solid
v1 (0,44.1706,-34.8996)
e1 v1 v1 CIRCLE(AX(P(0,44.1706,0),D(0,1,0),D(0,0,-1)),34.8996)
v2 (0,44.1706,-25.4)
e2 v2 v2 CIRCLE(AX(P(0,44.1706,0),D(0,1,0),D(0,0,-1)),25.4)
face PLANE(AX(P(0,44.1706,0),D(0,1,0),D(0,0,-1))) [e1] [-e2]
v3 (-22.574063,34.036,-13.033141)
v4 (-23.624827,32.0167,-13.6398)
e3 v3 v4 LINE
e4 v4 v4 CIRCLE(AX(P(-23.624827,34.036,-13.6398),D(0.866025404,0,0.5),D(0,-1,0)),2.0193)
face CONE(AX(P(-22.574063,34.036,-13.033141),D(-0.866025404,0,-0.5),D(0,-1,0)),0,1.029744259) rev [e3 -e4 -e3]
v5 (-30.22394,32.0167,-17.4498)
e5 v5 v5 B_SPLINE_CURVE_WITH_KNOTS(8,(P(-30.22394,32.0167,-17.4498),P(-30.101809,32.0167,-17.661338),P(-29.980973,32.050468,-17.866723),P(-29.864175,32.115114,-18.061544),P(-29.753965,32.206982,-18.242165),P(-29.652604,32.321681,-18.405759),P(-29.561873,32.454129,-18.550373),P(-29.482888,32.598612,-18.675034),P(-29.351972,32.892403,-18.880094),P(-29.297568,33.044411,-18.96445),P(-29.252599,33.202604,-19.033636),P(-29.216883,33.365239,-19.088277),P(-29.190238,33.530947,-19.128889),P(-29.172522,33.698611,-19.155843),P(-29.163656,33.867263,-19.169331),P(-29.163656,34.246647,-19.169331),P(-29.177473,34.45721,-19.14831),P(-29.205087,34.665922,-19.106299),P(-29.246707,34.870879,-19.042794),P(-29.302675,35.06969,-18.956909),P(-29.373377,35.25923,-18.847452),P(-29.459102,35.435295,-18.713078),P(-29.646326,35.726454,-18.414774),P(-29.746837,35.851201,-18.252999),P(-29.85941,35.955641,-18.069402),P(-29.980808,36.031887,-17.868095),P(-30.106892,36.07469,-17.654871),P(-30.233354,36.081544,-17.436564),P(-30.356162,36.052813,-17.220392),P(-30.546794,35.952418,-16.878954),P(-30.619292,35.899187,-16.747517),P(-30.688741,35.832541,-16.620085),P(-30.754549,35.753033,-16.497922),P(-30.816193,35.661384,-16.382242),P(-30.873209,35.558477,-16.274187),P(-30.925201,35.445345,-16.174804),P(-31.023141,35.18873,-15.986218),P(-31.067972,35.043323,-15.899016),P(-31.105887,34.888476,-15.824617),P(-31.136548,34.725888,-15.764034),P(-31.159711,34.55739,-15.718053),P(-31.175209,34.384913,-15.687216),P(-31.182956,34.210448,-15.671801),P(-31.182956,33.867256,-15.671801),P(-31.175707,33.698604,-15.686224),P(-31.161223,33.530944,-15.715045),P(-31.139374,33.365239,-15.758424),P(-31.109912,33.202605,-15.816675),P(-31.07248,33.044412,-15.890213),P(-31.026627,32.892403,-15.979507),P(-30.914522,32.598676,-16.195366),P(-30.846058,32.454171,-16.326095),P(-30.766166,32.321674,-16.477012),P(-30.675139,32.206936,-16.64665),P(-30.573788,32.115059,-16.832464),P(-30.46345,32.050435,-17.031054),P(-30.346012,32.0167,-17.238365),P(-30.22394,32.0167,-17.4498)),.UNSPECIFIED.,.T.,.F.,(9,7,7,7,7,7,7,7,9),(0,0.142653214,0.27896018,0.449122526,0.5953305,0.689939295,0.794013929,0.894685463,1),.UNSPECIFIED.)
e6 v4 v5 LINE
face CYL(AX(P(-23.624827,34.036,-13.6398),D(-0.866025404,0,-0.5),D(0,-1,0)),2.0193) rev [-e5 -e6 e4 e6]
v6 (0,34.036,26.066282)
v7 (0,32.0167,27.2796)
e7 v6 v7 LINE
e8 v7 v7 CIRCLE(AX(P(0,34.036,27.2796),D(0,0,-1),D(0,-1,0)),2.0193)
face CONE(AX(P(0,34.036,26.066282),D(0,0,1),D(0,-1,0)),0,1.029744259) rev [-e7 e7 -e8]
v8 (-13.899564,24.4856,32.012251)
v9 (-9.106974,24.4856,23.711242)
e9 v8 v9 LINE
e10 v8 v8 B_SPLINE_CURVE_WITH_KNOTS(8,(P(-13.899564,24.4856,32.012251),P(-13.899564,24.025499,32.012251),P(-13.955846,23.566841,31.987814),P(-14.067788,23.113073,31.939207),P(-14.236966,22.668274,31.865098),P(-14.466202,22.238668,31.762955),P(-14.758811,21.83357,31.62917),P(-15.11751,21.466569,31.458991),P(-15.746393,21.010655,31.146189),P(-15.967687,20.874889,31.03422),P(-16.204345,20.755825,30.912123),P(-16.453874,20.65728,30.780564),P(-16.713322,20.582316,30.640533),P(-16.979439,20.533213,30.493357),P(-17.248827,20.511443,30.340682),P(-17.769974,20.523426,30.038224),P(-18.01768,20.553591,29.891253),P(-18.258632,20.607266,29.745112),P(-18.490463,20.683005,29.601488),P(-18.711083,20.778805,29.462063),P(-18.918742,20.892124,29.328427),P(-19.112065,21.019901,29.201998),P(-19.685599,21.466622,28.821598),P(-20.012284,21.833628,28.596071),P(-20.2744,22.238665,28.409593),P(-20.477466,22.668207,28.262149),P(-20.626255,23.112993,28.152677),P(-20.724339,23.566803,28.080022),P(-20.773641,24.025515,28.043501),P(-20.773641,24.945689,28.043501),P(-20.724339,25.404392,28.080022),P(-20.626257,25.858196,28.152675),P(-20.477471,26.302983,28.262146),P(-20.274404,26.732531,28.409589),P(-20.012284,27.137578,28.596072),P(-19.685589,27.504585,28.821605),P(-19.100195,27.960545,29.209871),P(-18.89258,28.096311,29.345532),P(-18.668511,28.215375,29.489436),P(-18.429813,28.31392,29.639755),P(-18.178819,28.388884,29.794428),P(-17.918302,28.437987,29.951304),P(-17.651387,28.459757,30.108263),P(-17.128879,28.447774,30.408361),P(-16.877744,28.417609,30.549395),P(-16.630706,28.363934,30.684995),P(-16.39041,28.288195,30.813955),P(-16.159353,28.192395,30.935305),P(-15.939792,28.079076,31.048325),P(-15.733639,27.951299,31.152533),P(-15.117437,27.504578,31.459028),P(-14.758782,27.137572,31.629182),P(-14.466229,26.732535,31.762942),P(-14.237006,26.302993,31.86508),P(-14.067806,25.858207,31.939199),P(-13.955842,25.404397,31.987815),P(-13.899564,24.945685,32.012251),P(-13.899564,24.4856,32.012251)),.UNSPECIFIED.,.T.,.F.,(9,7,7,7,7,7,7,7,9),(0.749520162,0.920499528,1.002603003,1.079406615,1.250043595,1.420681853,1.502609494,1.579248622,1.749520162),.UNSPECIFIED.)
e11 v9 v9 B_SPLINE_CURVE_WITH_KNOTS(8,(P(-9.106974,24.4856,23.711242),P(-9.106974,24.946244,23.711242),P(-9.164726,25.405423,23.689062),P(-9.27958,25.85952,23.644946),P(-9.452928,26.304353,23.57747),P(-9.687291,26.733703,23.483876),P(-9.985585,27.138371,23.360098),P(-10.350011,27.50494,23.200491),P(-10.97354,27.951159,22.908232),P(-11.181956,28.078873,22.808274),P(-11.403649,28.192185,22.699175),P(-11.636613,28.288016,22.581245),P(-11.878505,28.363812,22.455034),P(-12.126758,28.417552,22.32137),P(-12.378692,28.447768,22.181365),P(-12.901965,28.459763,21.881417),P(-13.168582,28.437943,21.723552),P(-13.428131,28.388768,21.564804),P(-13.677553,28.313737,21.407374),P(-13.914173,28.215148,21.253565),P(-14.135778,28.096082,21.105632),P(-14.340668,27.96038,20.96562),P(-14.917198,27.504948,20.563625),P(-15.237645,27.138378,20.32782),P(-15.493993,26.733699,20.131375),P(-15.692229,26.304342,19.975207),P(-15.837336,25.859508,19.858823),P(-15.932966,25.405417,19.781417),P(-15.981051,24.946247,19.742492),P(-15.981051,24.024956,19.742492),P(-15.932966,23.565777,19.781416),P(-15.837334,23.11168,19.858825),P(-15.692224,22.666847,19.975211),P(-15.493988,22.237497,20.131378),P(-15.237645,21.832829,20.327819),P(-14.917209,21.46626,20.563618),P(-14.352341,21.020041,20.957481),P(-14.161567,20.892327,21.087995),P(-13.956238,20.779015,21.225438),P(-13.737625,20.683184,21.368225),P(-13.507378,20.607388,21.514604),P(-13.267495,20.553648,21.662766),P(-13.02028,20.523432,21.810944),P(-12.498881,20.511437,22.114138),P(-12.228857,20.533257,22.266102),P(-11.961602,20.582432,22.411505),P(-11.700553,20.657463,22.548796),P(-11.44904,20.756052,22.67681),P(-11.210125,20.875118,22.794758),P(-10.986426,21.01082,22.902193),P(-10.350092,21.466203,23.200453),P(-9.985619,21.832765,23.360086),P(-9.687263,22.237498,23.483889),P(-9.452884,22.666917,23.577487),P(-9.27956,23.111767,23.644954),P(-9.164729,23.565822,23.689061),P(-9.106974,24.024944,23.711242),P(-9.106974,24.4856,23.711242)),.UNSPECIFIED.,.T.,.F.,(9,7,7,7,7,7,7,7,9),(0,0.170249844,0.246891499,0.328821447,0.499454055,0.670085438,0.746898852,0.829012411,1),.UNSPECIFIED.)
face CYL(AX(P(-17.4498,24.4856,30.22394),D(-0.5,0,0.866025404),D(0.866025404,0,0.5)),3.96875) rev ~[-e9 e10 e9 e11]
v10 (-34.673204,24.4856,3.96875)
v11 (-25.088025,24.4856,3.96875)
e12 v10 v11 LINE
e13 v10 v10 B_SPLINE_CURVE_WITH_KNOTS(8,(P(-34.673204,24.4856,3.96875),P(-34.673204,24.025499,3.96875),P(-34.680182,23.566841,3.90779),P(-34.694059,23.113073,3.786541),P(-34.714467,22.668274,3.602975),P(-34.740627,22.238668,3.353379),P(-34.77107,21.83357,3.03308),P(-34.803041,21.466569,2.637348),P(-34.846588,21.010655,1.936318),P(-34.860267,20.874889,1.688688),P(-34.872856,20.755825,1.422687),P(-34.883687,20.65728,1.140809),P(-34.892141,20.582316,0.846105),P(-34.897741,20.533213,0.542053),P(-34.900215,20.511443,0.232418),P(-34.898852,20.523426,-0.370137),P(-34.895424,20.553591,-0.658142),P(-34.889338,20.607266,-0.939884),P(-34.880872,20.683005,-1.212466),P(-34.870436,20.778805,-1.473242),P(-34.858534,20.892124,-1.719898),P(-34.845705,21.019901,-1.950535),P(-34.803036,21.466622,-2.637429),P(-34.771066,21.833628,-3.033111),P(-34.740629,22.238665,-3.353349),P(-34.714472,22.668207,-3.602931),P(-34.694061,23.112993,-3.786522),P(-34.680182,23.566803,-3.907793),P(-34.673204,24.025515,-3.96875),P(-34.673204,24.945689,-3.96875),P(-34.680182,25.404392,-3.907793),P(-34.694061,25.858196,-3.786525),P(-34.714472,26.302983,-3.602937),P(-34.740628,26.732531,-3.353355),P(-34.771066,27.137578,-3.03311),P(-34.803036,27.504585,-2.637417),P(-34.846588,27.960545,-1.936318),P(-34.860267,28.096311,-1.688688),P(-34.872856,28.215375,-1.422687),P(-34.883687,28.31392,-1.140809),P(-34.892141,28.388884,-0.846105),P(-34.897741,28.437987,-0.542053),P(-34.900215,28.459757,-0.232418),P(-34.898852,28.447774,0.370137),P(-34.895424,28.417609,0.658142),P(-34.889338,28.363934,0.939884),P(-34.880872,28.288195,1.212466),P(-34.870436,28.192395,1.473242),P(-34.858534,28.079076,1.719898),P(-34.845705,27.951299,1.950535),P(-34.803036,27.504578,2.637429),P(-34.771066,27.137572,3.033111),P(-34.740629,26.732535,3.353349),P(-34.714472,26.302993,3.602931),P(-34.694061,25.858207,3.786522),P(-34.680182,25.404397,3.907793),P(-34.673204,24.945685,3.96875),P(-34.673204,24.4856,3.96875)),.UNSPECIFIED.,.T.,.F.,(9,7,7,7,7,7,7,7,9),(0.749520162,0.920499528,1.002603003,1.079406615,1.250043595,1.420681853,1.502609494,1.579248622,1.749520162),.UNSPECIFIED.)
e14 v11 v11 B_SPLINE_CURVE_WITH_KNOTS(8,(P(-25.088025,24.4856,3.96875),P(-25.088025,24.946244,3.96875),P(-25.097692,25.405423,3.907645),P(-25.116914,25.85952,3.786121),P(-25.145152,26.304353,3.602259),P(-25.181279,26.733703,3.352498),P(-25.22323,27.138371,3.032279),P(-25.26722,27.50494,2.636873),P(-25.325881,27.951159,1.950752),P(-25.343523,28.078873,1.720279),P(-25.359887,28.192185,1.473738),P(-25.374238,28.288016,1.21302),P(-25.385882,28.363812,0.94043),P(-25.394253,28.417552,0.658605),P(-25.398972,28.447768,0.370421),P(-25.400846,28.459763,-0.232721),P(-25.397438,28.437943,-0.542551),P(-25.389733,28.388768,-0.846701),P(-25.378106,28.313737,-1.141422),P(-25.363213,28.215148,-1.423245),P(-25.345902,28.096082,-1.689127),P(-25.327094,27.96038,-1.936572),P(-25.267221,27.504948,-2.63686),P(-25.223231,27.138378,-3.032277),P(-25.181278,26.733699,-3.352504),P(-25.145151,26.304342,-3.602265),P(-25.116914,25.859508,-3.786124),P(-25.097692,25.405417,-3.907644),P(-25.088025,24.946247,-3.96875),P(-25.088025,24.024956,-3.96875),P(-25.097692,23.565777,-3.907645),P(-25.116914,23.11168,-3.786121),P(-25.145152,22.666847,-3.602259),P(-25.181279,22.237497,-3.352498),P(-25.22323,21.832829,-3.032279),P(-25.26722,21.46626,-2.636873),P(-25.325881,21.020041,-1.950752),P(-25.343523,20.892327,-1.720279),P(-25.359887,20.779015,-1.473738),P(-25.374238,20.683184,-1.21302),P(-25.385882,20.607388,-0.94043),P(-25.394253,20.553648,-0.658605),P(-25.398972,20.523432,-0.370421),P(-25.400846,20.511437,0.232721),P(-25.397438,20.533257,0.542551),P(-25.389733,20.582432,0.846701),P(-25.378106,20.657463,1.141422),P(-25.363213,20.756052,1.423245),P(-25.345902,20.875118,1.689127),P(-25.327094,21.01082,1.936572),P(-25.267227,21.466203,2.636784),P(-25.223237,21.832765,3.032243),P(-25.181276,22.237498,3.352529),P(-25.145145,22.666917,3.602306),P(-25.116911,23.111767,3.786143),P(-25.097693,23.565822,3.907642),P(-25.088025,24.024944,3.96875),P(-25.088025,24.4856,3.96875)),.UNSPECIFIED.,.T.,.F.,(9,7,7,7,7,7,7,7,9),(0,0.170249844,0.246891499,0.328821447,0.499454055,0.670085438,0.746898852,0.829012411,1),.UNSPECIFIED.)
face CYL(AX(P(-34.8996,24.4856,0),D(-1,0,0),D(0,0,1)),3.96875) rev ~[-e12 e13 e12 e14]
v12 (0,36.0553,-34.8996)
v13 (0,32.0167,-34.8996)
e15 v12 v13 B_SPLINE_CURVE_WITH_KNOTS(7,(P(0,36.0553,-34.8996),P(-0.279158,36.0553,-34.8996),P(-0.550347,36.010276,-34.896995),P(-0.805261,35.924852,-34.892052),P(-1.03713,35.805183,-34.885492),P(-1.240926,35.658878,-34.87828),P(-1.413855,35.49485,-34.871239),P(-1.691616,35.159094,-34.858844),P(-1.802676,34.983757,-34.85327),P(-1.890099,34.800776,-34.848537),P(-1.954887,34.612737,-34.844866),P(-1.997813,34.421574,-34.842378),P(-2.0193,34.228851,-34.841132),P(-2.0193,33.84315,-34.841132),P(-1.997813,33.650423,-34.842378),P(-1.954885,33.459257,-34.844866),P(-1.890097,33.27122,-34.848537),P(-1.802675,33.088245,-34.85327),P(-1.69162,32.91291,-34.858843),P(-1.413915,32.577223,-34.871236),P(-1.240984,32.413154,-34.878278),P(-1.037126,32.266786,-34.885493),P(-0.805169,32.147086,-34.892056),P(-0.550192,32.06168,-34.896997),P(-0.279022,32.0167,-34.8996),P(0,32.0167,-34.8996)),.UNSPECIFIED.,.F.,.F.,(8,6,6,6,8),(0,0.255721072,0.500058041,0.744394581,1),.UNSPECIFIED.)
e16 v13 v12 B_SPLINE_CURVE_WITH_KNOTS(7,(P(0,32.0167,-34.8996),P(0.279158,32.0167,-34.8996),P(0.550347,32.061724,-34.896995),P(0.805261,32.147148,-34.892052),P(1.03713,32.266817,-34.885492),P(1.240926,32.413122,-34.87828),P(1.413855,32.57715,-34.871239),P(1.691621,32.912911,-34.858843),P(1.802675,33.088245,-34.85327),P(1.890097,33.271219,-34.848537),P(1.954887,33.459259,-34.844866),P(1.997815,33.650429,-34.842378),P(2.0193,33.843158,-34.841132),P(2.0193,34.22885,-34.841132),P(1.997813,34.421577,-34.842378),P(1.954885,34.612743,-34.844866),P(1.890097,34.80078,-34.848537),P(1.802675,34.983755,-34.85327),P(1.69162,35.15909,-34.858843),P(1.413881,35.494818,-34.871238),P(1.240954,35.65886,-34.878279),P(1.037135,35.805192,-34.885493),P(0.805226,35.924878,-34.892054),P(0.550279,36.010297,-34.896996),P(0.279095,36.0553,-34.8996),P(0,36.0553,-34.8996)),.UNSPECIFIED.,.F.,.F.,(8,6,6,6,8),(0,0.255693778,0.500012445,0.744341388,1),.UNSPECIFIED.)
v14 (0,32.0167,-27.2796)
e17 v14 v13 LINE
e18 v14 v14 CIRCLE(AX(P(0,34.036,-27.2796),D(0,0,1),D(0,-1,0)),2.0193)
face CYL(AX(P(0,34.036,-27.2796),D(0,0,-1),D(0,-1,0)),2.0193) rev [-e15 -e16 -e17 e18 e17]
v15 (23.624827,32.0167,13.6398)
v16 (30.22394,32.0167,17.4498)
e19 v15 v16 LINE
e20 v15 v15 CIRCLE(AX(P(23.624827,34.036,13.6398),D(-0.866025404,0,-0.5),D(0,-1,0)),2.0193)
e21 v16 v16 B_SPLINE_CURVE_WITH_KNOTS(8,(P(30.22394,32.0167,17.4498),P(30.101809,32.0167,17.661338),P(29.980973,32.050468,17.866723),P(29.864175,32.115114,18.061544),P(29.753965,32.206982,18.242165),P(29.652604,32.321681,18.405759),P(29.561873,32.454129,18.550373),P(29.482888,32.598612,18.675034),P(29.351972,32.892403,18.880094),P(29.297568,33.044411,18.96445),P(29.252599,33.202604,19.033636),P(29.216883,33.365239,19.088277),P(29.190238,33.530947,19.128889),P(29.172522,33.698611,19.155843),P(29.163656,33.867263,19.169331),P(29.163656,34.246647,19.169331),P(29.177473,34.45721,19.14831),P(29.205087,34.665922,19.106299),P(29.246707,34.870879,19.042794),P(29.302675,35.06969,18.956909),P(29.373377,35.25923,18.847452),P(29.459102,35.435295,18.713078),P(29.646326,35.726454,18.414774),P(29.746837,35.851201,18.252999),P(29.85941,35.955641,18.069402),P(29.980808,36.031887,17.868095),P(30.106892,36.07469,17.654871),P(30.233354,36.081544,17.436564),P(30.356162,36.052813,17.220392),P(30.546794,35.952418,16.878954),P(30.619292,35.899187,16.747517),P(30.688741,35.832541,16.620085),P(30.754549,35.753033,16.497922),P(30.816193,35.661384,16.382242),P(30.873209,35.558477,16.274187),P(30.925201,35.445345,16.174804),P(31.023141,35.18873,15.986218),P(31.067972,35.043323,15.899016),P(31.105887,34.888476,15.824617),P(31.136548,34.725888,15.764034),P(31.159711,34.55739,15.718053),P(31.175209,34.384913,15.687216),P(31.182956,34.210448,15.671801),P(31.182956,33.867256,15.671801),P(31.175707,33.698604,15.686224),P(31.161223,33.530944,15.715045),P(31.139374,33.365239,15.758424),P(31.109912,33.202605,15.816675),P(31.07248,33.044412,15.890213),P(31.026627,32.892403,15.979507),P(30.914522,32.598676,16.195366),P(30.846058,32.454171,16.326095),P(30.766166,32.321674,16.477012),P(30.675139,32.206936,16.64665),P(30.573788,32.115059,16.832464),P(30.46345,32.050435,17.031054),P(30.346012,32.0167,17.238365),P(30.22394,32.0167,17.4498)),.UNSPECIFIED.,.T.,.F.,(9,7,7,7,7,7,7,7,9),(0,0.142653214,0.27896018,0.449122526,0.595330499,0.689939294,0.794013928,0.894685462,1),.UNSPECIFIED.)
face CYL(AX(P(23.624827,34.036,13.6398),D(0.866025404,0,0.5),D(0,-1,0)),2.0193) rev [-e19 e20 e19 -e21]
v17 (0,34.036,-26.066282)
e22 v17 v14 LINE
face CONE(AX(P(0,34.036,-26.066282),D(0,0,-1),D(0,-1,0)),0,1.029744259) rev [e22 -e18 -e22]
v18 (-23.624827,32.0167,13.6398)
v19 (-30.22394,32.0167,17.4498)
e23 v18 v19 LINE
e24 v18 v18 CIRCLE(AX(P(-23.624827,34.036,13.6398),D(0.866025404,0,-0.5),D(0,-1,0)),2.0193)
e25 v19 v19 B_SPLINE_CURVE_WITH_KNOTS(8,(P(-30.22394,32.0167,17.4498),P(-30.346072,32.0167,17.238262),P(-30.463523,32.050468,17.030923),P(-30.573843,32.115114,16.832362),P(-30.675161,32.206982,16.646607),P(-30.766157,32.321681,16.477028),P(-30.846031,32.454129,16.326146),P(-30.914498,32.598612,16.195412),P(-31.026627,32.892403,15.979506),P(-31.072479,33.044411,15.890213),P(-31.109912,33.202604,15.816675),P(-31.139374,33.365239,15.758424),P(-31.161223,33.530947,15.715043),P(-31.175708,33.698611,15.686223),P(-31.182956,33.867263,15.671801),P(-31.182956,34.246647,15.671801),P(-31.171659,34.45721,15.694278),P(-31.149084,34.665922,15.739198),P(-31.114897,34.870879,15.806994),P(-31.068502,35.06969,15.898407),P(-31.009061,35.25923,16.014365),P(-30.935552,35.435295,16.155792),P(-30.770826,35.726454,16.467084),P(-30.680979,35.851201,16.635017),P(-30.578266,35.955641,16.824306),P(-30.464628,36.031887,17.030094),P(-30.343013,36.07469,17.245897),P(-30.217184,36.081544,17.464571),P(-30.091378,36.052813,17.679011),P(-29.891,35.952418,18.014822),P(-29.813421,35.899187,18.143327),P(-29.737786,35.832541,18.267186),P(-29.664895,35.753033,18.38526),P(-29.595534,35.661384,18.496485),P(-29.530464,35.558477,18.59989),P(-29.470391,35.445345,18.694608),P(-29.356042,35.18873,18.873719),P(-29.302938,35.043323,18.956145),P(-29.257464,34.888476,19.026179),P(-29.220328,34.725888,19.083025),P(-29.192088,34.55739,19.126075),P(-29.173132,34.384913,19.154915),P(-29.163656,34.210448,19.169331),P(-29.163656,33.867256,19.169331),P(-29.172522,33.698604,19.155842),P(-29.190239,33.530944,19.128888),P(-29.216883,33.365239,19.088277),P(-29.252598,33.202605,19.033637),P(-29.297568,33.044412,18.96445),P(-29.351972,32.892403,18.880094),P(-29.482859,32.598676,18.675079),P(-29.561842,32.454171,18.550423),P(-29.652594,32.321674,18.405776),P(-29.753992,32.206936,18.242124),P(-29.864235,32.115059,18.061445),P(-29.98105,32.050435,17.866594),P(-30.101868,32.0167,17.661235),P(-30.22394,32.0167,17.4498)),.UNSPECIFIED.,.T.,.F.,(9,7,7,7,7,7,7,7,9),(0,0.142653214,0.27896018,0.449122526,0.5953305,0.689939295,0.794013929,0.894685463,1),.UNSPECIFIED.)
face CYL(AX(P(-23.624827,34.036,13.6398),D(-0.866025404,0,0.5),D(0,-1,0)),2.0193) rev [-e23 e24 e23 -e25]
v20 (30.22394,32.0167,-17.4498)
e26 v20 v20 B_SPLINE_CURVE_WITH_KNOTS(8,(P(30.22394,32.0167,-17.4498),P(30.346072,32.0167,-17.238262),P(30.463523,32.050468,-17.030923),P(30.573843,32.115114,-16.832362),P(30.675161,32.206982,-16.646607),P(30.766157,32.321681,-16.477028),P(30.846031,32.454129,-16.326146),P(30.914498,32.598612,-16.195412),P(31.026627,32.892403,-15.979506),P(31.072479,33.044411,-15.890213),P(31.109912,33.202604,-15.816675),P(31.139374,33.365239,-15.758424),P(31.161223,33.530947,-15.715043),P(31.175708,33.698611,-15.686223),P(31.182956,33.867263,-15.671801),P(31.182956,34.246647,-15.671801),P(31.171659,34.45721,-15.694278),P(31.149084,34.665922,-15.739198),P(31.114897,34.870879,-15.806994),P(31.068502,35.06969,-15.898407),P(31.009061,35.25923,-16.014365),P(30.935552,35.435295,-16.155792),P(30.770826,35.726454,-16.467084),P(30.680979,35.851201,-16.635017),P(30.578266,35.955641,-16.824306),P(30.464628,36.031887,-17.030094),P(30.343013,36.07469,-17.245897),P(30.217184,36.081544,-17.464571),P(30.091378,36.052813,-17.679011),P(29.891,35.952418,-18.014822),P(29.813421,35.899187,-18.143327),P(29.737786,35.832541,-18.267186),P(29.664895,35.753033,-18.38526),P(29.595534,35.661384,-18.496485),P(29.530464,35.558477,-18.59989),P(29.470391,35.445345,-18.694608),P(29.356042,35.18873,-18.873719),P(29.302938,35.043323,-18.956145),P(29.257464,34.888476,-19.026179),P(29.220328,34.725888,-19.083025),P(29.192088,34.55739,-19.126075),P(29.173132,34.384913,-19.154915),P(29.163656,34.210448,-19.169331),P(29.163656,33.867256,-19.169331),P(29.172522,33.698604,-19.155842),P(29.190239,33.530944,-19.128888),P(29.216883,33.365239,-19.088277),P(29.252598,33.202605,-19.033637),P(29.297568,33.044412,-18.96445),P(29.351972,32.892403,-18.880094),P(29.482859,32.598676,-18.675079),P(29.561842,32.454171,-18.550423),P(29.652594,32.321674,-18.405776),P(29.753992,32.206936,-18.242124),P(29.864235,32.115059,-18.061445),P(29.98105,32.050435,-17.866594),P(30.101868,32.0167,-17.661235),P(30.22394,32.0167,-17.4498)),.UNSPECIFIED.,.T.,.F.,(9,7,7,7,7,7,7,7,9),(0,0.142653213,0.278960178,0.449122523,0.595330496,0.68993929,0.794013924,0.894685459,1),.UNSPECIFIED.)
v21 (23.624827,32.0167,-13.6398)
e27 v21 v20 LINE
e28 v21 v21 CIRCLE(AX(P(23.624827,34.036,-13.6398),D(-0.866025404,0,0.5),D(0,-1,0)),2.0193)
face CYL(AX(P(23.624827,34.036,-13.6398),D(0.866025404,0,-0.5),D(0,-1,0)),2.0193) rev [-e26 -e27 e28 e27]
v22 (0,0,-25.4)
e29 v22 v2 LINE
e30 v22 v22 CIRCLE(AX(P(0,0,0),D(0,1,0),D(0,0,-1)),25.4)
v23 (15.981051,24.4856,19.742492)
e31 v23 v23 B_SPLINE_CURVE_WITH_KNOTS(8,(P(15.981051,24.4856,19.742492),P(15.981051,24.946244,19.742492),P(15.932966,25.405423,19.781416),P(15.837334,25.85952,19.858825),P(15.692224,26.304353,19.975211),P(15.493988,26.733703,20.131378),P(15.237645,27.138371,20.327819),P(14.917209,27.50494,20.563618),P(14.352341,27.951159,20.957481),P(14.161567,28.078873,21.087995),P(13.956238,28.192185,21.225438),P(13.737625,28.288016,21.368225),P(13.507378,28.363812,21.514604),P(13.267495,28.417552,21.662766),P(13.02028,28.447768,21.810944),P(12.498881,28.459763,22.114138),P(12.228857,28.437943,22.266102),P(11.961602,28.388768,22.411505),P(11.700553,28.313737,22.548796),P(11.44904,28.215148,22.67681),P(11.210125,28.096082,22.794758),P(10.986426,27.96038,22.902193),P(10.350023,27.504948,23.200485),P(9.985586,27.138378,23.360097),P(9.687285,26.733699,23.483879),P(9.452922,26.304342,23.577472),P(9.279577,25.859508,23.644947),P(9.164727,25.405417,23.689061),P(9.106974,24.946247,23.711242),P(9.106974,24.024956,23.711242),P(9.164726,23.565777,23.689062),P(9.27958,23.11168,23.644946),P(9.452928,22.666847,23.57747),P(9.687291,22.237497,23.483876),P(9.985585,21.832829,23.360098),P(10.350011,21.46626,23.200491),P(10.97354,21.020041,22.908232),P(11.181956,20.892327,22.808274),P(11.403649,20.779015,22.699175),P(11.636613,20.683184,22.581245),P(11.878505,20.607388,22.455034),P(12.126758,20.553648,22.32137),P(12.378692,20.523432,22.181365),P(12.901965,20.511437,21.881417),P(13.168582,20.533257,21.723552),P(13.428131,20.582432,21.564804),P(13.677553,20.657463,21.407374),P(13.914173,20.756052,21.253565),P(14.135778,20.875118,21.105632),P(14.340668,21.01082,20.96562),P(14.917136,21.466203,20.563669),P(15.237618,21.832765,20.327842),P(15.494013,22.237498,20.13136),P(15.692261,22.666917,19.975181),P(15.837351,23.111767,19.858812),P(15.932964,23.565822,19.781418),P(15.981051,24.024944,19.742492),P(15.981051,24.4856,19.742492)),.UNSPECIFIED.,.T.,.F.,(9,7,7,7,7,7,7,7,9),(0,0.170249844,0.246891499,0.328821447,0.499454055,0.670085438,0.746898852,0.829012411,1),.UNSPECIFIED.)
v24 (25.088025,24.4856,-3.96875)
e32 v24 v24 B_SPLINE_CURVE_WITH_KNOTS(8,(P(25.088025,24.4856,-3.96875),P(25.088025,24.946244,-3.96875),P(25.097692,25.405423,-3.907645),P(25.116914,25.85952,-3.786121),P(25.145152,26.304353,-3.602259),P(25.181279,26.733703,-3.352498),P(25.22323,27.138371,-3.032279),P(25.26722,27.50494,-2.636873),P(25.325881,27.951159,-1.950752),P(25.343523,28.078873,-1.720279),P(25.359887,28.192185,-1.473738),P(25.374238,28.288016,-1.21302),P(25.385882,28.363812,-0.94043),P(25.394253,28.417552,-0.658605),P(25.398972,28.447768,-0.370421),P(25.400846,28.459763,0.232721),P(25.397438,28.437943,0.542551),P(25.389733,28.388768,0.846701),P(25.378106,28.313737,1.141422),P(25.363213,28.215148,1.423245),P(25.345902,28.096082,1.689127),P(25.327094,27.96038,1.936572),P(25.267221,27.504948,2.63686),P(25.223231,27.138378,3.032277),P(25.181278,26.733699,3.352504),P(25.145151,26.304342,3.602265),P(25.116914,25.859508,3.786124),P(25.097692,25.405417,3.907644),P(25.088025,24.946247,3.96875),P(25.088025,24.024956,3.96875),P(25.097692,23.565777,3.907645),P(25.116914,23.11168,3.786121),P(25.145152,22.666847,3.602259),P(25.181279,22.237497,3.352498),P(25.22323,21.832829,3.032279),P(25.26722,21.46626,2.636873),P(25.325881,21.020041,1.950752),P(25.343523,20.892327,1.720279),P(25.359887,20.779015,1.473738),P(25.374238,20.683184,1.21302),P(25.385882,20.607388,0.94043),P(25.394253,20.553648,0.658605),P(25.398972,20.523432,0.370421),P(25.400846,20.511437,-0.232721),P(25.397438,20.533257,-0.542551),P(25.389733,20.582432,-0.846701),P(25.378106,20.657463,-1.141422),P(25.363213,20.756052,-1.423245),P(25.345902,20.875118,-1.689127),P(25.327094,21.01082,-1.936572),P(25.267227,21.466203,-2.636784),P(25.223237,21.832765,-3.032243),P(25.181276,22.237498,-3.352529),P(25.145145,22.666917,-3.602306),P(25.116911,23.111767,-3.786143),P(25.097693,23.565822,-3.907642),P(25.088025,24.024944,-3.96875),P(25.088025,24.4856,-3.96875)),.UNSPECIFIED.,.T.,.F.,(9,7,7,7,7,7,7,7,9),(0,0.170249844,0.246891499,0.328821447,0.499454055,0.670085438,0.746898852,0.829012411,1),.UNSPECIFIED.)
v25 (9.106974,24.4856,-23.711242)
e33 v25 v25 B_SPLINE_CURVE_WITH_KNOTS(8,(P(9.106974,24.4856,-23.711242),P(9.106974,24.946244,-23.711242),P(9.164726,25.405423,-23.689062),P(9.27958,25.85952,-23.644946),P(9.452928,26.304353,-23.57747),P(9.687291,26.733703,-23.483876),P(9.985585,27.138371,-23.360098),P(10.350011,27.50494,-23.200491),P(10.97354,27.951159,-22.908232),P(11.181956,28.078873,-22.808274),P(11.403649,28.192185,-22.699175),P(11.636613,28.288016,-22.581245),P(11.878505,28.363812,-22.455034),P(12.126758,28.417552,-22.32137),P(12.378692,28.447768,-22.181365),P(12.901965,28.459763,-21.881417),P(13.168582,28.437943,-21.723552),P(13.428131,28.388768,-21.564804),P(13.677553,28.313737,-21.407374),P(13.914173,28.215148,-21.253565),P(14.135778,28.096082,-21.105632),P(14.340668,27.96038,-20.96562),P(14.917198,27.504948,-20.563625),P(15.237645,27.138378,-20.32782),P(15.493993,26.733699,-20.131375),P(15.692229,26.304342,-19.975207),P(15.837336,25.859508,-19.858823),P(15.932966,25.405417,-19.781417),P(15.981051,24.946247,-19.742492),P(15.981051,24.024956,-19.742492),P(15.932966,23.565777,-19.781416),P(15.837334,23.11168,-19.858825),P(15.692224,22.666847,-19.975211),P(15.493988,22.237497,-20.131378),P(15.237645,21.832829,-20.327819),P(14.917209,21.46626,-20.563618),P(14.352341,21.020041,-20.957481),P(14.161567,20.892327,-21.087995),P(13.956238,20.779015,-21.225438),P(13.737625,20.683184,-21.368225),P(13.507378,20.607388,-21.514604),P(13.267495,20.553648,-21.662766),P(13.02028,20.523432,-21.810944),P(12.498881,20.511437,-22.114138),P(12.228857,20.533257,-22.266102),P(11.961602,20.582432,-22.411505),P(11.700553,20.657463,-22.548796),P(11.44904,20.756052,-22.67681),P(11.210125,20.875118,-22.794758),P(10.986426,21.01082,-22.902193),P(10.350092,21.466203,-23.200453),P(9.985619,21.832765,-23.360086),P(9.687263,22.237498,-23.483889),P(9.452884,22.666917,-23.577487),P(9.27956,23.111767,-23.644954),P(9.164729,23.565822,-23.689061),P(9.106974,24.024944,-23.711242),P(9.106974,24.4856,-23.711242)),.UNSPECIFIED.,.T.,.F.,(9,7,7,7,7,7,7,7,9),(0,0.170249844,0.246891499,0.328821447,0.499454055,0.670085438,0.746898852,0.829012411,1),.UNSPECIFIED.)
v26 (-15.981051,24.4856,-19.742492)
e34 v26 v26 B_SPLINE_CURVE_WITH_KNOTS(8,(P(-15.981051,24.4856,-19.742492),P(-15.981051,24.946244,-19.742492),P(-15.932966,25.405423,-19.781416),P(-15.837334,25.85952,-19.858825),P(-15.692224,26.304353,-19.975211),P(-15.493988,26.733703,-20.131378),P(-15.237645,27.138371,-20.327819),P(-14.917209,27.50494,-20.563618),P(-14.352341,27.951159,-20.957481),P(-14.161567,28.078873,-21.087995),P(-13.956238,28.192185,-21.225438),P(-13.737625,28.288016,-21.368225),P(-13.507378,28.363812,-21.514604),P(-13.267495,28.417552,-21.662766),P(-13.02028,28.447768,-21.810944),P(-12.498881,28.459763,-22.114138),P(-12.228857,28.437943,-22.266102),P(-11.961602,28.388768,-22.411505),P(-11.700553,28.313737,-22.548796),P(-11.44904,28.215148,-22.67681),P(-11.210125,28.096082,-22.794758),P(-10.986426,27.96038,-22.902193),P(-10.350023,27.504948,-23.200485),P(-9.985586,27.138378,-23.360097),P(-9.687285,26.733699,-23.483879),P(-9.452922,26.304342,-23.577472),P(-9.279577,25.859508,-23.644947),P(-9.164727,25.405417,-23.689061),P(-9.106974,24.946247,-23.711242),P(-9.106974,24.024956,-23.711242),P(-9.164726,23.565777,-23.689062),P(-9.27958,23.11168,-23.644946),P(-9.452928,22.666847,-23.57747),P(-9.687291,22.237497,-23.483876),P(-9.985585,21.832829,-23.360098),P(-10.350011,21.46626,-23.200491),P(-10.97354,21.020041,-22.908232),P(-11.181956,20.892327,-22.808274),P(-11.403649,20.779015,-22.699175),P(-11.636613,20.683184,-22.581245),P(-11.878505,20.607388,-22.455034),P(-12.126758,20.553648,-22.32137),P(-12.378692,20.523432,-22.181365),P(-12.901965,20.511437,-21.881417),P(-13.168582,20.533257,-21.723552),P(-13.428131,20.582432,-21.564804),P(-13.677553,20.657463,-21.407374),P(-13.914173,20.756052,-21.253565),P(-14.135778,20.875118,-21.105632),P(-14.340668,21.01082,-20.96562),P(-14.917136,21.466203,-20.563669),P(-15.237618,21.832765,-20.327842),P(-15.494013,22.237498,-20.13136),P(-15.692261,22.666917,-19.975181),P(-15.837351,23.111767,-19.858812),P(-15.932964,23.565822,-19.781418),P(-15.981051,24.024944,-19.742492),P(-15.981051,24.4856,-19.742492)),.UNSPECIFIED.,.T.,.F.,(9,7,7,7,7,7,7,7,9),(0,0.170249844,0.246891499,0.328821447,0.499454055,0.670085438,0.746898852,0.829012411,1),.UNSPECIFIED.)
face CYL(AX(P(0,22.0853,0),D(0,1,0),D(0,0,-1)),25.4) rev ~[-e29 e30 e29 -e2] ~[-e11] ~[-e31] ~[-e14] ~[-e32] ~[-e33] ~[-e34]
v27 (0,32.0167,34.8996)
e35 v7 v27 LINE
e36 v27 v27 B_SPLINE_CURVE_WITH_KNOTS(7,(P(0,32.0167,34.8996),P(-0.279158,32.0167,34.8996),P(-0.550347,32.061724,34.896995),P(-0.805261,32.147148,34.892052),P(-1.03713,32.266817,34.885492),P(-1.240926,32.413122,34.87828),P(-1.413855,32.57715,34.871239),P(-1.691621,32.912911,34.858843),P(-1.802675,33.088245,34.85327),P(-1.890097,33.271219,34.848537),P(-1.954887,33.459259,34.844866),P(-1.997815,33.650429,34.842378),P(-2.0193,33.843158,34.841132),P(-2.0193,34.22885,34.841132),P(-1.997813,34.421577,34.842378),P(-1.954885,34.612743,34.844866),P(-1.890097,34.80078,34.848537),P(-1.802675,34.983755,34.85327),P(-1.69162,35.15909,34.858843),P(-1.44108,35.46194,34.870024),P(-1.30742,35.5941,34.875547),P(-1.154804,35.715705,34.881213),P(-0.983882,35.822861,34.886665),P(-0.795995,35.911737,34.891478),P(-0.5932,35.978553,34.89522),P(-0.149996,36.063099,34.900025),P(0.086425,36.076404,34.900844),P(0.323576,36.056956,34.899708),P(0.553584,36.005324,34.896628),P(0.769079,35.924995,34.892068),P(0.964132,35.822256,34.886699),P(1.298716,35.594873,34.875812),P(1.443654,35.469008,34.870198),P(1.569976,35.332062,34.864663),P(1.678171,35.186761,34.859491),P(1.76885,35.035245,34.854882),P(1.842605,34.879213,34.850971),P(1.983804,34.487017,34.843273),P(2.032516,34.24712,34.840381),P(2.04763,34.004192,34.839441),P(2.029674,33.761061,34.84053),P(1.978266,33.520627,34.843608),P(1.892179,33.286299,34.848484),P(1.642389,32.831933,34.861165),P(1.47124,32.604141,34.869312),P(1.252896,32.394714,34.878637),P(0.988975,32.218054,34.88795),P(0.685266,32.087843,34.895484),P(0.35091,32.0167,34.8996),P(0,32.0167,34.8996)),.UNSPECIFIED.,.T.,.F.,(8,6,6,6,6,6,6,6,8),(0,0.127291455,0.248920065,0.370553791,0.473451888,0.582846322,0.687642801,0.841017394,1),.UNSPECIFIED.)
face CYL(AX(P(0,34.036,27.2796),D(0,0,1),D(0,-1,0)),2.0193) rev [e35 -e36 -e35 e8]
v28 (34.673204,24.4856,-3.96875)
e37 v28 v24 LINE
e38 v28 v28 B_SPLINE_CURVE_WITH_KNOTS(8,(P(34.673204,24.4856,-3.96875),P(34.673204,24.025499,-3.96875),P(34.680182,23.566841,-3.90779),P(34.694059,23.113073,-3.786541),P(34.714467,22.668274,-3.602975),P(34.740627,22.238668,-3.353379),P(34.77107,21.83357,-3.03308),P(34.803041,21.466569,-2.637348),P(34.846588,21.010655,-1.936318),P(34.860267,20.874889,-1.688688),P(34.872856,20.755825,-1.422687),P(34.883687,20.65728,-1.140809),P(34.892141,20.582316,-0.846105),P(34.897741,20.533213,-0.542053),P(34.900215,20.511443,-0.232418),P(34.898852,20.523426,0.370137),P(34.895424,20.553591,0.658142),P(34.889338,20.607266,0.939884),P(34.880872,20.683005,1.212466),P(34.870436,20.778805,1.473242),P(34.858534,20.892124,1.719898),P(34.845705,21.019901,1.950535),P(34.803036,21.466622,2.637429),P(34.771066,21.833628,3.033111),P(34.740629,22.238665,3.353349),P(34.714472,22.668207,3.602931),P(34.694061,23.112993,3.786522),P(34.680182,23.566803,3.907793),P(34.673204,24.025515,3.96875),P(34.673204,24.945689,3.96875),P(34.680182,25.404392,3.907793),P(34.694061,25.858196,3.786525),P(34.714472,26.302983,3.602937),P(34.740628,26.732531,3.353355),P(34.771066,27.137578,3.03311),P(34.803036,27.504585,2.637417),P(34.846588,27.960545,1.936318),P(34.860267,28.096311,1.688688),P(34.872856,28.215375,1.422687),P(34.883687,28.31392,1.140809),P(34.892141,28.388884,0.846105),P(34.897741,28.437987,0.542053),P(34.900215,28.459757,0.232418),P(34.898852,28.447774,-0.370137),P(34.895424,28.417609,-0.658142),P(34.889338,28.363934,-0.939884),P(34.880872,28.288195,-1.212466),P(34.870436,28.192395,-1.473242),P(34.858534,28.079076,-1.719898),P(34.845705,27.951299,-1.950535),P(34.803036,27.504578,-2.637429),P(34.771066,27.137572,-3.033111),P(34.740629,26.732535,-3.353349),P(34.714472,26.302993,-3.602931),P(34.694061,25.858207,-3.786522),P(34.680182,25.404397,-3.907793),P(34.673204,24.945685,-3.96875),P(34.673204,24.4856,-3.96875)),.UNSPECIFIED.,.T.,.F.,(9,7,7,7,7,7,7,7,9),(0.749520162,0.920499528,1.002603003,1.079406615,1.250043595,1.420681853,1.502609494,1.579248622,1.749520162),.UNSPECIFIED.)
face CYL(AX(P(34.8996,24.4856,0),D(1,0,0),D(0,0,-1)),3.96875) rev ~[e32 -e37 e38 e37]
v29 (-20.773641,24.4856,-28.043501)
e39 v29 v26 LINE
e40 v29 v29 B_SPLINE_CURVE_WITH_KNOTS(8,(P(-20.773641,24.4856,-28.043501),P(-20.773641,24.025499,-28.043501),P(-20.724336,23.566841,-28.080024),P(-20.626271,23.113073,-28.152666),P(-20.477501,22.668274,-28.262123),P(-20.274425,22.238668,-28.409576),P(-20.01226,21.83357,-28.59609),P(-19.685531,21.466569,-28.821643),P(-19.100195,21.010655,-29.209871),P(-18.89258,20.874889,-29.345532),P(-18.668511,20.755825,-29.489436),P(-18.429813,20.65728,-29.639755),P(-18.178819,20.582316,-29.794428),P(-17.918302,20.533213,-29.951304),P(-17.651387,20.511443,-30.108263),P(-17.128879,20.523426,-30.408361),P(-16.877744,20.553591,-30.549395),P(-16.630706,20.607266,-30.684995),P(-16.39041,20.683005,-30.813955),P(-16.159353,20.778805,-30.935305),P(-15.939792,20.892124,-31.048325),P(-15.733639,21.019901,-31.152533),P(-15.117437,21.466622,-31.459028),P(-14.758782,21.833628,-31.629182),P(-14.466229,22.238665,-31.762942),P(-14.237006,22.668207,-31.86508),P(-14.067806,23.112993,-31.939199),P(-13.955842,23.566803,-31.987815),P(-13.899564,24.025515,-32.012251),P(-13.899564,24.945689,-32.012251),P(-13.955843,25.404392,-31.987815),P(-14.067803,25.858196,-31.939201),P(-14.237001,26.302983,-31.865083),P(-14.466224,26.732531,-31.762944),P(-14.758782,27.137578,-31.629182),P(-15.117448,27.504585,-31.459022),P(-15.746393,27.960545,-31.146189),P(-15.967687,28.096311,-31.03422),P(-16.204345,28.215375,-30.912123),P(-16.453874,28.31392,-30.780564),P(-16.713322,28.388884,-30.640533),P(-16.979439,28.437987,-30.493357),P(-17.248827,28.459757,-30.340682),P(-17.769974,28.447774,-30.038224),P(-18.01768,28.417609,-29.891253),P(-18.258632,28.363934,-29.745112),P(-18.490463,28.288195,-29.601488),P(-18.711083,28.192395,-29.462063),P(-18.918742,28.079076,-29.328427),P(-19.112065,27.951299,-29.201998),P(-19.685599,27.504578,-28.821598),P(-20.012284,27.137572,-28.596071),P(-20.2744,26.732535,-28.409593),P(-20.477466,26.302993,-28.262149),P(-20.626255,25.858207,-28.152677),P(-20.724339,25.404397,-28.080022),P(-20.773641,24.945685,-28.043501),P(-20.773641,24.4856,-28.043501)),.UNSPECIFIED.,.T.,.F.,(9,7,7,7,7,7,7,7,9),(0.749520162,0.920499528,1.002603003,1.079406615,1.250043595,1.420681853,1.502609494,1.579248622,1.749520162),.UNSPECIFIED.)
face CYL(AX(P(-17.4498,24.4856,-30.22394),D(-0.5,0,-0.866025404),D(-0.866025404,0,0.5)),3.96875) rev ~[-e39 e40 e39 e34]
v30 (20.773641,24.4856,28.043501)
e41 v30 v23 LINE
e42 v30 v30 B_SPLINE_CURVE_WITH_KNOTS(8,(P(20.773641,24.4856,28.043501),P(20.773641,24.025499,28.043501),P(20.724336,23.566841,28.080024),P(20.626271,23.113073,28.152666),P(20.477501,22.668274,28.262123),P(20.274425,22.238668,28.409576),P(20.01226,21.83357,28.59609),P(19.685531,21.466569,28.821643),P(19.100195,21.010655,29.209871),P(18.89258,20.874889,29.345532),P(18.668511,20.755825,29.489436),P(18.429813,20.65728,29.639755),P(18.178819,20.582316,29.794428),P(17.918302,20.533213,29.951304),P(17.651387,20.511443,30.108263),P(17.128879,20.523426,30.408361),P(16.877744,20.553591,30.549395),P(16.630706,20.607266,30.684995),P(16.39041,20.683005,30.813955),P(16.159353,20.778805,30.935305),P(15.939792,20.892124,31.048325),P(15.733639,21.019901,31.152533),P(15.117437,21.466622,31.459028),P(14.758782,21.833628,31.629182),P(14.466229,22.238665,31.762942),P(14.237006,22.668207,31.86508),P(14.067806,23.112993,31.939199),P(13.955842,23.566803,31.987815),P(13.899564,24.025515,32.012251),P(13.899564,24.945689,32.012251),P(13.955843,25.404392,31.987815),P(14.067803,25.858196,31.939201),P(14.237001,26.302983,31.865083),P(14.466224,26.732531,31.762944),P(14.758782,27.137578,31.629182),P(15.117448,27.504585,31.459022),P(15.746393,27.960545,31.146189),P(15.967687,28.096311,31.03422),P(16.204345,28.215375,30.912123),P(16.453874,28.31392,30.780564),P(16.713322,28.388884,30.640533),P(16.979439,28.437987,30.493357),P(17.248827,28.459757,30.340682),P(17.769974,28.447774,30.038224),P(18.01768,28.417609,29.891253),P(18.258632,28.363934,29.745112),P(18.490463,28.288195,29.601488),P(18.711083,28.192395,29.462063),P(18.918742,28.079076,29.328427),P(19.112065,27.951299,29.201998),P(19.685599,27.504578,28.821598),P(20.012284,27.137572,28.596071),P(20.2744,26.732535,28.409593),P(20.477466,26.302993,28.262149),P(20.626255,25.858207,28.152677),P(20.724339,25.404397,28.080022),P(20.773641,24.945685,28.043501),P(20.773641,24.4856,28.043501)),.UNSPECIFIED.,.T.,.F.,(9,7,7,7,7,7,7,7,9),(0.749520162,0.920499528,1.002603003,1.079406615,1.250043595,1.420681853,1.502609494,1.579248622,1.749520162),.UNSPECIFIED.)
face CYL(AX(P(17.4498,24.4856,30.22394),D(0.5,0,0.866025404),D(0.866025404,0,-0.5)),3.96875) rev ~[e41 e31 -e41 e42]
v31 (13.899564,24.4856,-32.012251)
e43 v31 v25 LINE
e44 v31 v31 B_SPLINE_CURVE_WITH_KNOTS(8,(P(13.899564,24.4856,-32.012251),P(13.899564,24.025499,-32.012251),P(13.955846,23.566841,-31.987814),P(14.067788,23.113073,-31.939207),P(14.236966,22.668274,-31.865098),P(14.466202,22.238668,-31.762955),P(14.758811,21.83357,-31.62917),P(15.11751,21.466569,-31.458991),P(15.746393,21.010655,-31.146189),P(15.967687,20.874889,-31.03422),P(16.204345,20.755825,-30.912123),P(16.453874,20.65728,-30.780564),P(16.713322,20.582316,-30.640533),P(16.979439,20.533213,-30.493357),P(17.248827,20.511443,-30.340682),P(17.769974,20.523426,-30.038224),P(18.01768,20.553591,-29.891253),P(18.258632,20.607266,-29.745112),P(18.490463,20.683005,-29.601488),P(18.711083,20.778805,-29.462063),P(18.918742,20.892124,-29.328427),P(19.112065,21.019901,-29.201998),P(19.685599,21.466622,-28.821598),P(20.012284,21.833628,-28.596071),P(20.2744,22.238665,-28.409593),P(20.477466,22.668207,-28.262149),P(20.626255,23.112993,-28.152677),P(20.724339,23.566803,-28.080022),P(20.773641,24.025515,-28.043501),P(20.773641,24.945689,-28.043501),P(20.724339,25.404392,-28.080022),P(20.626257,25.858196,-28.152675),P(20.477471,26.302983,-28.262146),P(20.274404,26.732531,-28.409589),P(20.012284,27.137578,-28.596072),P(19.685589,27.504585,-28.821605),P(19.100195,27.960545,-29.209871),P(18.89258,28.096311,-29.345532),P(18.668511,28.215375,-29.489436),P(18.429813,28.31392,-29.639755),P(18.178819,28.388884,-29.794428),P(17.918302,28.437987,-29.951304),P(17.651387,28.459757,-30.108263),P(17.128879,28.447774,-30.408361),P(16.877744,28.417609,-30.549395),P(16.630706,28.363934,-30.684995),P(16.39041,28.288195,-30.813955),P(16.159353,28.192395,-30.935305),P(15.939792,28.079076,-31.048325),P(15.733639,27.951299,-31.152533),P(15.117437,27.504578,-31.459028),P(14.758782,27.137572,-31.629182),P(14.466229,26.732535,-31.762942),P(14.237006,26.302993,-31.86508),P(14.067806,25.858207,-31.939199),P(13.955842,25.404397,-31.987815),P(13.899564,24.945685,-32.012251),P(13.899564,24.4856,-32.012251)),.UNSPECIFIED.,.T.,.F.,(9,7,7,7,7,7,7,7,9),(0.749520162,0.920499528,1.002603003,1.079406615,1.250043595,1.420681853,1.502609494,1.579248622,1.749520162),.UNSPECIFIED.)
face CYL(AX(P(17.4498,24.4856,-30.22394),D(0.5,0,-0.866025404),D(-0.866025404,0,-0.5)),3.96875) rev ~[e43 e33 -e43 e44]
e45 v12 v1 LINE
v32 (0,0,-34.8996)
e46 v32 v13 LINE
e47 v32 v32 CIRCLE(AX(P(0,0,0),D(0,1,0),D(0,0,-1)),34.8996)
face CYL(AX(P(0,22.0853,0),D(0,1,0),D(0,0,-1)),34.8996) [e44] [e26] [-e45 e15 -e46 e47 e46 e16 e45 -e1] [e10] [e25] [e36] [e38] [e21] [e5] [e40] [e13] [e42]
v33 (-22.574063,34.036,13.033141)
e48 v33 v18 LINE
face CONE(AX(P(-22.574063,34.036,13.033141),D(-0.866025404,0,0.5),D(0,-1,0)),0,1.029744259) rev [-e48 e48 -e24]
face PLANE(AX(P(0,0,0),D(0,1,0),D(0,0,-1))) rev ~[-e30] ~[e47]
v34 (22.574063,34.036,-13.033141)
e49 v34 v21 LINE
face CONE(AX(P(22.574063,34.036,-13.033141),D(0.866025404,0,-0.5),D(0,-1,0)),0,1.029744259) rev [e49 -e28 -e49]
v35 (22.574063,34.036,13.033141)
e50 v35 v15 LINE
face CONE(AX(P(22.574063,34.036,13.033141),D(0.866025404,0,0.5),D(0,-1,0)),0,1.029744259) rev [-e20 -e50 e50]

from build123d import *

# Parameters (mm, degrees)
SKETCH2_W                    = 9.4996
SKETCH2_H                    = 44.1706
F_3_8_16_TAPPED_HOLE2_REACH  = 91.671
F_3_8_16_TAPPED_HOLE2_BORE_R = 3.96875
CIRPATTERN1_COUNT            = 6
CIRPATTERN2_COUNT            = 6


with BuildPart() as part:
    # Sketch2 → Revolve1 (revolve)
    with BuildSketch(Plane.XY, mode=Mode.PRIVATE) as revolve1_sk:
        with Locations((-30.1498, 22.0853)):
            Rectangle(SKETCH2_W, SKETCH2_H)
    revolve(revolve1_sk.sketch.rotate(Axis((0, 0, 0), (0, 1, 0)), 270), axis=Axis((0, 0, 0), (0, 1, 0)))

    # 3_8-16 Tapped Hole2 bore → 3_8-16 Tapped Hole2 (cut, up to next)
    with BuildSketch(Plane(origin=(34.8996, 0, 0), x_dir=(0, 0, -1), z_dir=(1, 0, 0)), mode=Mode.PRIVATE) as f_3_8_16_tapped_hole2_sk1:
        with Locations((0, 24.4856)):
            Circle(F_3_8_16_TAPPED_HOLE2_BORE_R)
    f_3_8_16_tapped_hole2_tool1 = extrude(f_3_8_16_tapped_hole2_sk1.sketch, amount=-F_3_8_16_TAPPED_HOLE2_REACH, mode=Mode.PRIVATE) & part.part
    f_3_8_16_tapped_hole2 = f_3_8_16_tapped_hole2_tool1.solids().sort_by_distance((34.8996, 24.4856, 0))[0]
    add(f_3_8_16_tapped_hole2, mode=Mode.SUBTRACT)

    # CirPattern1: 3_8-16 Tapped Hole2 ×6 about axis
    cirpattern1_axis = Axis((0, 44.1706, 0), (0, -1, 0))
    for i in range(1, CIRPATTERN1_COUNT):
        add(f_3_8_16_tapped_hole2.rotate(cirpattern1_axis, i * 360 / CIRPATTERN1_COUNT), mode=Mode.SUBTRACT)

    # Sketch14 → Tap Drill for _10-32 Tap1 (revolve, cut)
    with BuildSketch(Plane(origin=(0, 34.036, 34.8996), x_dir=(0, -1, 0), z_dir=(1, 0, 0))):
        Polygon((0, 0), (0, 8.833317848), (2.0193, 7.62), (2.0193, 0), align=None)
    tap_drill_for_10_32_tap1 = revolve(axis=Axis((0, 34.036, 41.2496), (0, 0, -1)), mode=Mode.SUBTRACT)

    # CirPattern2: Tap Drill for _10-32 Tap1 ×6 about axis
    cirpattern2_axis = Axis((0, 0, 0), (0, -1, 0))
    for i in range(1, CIRPATTERN2_COUNT):
        add(tap_drill_for_10_32_tap1.rotate(cirpattern2_axis, i * 360 / CIRPATTERN2_COUNT), mode=Mode.SUBTRACT)


solid = part.part
